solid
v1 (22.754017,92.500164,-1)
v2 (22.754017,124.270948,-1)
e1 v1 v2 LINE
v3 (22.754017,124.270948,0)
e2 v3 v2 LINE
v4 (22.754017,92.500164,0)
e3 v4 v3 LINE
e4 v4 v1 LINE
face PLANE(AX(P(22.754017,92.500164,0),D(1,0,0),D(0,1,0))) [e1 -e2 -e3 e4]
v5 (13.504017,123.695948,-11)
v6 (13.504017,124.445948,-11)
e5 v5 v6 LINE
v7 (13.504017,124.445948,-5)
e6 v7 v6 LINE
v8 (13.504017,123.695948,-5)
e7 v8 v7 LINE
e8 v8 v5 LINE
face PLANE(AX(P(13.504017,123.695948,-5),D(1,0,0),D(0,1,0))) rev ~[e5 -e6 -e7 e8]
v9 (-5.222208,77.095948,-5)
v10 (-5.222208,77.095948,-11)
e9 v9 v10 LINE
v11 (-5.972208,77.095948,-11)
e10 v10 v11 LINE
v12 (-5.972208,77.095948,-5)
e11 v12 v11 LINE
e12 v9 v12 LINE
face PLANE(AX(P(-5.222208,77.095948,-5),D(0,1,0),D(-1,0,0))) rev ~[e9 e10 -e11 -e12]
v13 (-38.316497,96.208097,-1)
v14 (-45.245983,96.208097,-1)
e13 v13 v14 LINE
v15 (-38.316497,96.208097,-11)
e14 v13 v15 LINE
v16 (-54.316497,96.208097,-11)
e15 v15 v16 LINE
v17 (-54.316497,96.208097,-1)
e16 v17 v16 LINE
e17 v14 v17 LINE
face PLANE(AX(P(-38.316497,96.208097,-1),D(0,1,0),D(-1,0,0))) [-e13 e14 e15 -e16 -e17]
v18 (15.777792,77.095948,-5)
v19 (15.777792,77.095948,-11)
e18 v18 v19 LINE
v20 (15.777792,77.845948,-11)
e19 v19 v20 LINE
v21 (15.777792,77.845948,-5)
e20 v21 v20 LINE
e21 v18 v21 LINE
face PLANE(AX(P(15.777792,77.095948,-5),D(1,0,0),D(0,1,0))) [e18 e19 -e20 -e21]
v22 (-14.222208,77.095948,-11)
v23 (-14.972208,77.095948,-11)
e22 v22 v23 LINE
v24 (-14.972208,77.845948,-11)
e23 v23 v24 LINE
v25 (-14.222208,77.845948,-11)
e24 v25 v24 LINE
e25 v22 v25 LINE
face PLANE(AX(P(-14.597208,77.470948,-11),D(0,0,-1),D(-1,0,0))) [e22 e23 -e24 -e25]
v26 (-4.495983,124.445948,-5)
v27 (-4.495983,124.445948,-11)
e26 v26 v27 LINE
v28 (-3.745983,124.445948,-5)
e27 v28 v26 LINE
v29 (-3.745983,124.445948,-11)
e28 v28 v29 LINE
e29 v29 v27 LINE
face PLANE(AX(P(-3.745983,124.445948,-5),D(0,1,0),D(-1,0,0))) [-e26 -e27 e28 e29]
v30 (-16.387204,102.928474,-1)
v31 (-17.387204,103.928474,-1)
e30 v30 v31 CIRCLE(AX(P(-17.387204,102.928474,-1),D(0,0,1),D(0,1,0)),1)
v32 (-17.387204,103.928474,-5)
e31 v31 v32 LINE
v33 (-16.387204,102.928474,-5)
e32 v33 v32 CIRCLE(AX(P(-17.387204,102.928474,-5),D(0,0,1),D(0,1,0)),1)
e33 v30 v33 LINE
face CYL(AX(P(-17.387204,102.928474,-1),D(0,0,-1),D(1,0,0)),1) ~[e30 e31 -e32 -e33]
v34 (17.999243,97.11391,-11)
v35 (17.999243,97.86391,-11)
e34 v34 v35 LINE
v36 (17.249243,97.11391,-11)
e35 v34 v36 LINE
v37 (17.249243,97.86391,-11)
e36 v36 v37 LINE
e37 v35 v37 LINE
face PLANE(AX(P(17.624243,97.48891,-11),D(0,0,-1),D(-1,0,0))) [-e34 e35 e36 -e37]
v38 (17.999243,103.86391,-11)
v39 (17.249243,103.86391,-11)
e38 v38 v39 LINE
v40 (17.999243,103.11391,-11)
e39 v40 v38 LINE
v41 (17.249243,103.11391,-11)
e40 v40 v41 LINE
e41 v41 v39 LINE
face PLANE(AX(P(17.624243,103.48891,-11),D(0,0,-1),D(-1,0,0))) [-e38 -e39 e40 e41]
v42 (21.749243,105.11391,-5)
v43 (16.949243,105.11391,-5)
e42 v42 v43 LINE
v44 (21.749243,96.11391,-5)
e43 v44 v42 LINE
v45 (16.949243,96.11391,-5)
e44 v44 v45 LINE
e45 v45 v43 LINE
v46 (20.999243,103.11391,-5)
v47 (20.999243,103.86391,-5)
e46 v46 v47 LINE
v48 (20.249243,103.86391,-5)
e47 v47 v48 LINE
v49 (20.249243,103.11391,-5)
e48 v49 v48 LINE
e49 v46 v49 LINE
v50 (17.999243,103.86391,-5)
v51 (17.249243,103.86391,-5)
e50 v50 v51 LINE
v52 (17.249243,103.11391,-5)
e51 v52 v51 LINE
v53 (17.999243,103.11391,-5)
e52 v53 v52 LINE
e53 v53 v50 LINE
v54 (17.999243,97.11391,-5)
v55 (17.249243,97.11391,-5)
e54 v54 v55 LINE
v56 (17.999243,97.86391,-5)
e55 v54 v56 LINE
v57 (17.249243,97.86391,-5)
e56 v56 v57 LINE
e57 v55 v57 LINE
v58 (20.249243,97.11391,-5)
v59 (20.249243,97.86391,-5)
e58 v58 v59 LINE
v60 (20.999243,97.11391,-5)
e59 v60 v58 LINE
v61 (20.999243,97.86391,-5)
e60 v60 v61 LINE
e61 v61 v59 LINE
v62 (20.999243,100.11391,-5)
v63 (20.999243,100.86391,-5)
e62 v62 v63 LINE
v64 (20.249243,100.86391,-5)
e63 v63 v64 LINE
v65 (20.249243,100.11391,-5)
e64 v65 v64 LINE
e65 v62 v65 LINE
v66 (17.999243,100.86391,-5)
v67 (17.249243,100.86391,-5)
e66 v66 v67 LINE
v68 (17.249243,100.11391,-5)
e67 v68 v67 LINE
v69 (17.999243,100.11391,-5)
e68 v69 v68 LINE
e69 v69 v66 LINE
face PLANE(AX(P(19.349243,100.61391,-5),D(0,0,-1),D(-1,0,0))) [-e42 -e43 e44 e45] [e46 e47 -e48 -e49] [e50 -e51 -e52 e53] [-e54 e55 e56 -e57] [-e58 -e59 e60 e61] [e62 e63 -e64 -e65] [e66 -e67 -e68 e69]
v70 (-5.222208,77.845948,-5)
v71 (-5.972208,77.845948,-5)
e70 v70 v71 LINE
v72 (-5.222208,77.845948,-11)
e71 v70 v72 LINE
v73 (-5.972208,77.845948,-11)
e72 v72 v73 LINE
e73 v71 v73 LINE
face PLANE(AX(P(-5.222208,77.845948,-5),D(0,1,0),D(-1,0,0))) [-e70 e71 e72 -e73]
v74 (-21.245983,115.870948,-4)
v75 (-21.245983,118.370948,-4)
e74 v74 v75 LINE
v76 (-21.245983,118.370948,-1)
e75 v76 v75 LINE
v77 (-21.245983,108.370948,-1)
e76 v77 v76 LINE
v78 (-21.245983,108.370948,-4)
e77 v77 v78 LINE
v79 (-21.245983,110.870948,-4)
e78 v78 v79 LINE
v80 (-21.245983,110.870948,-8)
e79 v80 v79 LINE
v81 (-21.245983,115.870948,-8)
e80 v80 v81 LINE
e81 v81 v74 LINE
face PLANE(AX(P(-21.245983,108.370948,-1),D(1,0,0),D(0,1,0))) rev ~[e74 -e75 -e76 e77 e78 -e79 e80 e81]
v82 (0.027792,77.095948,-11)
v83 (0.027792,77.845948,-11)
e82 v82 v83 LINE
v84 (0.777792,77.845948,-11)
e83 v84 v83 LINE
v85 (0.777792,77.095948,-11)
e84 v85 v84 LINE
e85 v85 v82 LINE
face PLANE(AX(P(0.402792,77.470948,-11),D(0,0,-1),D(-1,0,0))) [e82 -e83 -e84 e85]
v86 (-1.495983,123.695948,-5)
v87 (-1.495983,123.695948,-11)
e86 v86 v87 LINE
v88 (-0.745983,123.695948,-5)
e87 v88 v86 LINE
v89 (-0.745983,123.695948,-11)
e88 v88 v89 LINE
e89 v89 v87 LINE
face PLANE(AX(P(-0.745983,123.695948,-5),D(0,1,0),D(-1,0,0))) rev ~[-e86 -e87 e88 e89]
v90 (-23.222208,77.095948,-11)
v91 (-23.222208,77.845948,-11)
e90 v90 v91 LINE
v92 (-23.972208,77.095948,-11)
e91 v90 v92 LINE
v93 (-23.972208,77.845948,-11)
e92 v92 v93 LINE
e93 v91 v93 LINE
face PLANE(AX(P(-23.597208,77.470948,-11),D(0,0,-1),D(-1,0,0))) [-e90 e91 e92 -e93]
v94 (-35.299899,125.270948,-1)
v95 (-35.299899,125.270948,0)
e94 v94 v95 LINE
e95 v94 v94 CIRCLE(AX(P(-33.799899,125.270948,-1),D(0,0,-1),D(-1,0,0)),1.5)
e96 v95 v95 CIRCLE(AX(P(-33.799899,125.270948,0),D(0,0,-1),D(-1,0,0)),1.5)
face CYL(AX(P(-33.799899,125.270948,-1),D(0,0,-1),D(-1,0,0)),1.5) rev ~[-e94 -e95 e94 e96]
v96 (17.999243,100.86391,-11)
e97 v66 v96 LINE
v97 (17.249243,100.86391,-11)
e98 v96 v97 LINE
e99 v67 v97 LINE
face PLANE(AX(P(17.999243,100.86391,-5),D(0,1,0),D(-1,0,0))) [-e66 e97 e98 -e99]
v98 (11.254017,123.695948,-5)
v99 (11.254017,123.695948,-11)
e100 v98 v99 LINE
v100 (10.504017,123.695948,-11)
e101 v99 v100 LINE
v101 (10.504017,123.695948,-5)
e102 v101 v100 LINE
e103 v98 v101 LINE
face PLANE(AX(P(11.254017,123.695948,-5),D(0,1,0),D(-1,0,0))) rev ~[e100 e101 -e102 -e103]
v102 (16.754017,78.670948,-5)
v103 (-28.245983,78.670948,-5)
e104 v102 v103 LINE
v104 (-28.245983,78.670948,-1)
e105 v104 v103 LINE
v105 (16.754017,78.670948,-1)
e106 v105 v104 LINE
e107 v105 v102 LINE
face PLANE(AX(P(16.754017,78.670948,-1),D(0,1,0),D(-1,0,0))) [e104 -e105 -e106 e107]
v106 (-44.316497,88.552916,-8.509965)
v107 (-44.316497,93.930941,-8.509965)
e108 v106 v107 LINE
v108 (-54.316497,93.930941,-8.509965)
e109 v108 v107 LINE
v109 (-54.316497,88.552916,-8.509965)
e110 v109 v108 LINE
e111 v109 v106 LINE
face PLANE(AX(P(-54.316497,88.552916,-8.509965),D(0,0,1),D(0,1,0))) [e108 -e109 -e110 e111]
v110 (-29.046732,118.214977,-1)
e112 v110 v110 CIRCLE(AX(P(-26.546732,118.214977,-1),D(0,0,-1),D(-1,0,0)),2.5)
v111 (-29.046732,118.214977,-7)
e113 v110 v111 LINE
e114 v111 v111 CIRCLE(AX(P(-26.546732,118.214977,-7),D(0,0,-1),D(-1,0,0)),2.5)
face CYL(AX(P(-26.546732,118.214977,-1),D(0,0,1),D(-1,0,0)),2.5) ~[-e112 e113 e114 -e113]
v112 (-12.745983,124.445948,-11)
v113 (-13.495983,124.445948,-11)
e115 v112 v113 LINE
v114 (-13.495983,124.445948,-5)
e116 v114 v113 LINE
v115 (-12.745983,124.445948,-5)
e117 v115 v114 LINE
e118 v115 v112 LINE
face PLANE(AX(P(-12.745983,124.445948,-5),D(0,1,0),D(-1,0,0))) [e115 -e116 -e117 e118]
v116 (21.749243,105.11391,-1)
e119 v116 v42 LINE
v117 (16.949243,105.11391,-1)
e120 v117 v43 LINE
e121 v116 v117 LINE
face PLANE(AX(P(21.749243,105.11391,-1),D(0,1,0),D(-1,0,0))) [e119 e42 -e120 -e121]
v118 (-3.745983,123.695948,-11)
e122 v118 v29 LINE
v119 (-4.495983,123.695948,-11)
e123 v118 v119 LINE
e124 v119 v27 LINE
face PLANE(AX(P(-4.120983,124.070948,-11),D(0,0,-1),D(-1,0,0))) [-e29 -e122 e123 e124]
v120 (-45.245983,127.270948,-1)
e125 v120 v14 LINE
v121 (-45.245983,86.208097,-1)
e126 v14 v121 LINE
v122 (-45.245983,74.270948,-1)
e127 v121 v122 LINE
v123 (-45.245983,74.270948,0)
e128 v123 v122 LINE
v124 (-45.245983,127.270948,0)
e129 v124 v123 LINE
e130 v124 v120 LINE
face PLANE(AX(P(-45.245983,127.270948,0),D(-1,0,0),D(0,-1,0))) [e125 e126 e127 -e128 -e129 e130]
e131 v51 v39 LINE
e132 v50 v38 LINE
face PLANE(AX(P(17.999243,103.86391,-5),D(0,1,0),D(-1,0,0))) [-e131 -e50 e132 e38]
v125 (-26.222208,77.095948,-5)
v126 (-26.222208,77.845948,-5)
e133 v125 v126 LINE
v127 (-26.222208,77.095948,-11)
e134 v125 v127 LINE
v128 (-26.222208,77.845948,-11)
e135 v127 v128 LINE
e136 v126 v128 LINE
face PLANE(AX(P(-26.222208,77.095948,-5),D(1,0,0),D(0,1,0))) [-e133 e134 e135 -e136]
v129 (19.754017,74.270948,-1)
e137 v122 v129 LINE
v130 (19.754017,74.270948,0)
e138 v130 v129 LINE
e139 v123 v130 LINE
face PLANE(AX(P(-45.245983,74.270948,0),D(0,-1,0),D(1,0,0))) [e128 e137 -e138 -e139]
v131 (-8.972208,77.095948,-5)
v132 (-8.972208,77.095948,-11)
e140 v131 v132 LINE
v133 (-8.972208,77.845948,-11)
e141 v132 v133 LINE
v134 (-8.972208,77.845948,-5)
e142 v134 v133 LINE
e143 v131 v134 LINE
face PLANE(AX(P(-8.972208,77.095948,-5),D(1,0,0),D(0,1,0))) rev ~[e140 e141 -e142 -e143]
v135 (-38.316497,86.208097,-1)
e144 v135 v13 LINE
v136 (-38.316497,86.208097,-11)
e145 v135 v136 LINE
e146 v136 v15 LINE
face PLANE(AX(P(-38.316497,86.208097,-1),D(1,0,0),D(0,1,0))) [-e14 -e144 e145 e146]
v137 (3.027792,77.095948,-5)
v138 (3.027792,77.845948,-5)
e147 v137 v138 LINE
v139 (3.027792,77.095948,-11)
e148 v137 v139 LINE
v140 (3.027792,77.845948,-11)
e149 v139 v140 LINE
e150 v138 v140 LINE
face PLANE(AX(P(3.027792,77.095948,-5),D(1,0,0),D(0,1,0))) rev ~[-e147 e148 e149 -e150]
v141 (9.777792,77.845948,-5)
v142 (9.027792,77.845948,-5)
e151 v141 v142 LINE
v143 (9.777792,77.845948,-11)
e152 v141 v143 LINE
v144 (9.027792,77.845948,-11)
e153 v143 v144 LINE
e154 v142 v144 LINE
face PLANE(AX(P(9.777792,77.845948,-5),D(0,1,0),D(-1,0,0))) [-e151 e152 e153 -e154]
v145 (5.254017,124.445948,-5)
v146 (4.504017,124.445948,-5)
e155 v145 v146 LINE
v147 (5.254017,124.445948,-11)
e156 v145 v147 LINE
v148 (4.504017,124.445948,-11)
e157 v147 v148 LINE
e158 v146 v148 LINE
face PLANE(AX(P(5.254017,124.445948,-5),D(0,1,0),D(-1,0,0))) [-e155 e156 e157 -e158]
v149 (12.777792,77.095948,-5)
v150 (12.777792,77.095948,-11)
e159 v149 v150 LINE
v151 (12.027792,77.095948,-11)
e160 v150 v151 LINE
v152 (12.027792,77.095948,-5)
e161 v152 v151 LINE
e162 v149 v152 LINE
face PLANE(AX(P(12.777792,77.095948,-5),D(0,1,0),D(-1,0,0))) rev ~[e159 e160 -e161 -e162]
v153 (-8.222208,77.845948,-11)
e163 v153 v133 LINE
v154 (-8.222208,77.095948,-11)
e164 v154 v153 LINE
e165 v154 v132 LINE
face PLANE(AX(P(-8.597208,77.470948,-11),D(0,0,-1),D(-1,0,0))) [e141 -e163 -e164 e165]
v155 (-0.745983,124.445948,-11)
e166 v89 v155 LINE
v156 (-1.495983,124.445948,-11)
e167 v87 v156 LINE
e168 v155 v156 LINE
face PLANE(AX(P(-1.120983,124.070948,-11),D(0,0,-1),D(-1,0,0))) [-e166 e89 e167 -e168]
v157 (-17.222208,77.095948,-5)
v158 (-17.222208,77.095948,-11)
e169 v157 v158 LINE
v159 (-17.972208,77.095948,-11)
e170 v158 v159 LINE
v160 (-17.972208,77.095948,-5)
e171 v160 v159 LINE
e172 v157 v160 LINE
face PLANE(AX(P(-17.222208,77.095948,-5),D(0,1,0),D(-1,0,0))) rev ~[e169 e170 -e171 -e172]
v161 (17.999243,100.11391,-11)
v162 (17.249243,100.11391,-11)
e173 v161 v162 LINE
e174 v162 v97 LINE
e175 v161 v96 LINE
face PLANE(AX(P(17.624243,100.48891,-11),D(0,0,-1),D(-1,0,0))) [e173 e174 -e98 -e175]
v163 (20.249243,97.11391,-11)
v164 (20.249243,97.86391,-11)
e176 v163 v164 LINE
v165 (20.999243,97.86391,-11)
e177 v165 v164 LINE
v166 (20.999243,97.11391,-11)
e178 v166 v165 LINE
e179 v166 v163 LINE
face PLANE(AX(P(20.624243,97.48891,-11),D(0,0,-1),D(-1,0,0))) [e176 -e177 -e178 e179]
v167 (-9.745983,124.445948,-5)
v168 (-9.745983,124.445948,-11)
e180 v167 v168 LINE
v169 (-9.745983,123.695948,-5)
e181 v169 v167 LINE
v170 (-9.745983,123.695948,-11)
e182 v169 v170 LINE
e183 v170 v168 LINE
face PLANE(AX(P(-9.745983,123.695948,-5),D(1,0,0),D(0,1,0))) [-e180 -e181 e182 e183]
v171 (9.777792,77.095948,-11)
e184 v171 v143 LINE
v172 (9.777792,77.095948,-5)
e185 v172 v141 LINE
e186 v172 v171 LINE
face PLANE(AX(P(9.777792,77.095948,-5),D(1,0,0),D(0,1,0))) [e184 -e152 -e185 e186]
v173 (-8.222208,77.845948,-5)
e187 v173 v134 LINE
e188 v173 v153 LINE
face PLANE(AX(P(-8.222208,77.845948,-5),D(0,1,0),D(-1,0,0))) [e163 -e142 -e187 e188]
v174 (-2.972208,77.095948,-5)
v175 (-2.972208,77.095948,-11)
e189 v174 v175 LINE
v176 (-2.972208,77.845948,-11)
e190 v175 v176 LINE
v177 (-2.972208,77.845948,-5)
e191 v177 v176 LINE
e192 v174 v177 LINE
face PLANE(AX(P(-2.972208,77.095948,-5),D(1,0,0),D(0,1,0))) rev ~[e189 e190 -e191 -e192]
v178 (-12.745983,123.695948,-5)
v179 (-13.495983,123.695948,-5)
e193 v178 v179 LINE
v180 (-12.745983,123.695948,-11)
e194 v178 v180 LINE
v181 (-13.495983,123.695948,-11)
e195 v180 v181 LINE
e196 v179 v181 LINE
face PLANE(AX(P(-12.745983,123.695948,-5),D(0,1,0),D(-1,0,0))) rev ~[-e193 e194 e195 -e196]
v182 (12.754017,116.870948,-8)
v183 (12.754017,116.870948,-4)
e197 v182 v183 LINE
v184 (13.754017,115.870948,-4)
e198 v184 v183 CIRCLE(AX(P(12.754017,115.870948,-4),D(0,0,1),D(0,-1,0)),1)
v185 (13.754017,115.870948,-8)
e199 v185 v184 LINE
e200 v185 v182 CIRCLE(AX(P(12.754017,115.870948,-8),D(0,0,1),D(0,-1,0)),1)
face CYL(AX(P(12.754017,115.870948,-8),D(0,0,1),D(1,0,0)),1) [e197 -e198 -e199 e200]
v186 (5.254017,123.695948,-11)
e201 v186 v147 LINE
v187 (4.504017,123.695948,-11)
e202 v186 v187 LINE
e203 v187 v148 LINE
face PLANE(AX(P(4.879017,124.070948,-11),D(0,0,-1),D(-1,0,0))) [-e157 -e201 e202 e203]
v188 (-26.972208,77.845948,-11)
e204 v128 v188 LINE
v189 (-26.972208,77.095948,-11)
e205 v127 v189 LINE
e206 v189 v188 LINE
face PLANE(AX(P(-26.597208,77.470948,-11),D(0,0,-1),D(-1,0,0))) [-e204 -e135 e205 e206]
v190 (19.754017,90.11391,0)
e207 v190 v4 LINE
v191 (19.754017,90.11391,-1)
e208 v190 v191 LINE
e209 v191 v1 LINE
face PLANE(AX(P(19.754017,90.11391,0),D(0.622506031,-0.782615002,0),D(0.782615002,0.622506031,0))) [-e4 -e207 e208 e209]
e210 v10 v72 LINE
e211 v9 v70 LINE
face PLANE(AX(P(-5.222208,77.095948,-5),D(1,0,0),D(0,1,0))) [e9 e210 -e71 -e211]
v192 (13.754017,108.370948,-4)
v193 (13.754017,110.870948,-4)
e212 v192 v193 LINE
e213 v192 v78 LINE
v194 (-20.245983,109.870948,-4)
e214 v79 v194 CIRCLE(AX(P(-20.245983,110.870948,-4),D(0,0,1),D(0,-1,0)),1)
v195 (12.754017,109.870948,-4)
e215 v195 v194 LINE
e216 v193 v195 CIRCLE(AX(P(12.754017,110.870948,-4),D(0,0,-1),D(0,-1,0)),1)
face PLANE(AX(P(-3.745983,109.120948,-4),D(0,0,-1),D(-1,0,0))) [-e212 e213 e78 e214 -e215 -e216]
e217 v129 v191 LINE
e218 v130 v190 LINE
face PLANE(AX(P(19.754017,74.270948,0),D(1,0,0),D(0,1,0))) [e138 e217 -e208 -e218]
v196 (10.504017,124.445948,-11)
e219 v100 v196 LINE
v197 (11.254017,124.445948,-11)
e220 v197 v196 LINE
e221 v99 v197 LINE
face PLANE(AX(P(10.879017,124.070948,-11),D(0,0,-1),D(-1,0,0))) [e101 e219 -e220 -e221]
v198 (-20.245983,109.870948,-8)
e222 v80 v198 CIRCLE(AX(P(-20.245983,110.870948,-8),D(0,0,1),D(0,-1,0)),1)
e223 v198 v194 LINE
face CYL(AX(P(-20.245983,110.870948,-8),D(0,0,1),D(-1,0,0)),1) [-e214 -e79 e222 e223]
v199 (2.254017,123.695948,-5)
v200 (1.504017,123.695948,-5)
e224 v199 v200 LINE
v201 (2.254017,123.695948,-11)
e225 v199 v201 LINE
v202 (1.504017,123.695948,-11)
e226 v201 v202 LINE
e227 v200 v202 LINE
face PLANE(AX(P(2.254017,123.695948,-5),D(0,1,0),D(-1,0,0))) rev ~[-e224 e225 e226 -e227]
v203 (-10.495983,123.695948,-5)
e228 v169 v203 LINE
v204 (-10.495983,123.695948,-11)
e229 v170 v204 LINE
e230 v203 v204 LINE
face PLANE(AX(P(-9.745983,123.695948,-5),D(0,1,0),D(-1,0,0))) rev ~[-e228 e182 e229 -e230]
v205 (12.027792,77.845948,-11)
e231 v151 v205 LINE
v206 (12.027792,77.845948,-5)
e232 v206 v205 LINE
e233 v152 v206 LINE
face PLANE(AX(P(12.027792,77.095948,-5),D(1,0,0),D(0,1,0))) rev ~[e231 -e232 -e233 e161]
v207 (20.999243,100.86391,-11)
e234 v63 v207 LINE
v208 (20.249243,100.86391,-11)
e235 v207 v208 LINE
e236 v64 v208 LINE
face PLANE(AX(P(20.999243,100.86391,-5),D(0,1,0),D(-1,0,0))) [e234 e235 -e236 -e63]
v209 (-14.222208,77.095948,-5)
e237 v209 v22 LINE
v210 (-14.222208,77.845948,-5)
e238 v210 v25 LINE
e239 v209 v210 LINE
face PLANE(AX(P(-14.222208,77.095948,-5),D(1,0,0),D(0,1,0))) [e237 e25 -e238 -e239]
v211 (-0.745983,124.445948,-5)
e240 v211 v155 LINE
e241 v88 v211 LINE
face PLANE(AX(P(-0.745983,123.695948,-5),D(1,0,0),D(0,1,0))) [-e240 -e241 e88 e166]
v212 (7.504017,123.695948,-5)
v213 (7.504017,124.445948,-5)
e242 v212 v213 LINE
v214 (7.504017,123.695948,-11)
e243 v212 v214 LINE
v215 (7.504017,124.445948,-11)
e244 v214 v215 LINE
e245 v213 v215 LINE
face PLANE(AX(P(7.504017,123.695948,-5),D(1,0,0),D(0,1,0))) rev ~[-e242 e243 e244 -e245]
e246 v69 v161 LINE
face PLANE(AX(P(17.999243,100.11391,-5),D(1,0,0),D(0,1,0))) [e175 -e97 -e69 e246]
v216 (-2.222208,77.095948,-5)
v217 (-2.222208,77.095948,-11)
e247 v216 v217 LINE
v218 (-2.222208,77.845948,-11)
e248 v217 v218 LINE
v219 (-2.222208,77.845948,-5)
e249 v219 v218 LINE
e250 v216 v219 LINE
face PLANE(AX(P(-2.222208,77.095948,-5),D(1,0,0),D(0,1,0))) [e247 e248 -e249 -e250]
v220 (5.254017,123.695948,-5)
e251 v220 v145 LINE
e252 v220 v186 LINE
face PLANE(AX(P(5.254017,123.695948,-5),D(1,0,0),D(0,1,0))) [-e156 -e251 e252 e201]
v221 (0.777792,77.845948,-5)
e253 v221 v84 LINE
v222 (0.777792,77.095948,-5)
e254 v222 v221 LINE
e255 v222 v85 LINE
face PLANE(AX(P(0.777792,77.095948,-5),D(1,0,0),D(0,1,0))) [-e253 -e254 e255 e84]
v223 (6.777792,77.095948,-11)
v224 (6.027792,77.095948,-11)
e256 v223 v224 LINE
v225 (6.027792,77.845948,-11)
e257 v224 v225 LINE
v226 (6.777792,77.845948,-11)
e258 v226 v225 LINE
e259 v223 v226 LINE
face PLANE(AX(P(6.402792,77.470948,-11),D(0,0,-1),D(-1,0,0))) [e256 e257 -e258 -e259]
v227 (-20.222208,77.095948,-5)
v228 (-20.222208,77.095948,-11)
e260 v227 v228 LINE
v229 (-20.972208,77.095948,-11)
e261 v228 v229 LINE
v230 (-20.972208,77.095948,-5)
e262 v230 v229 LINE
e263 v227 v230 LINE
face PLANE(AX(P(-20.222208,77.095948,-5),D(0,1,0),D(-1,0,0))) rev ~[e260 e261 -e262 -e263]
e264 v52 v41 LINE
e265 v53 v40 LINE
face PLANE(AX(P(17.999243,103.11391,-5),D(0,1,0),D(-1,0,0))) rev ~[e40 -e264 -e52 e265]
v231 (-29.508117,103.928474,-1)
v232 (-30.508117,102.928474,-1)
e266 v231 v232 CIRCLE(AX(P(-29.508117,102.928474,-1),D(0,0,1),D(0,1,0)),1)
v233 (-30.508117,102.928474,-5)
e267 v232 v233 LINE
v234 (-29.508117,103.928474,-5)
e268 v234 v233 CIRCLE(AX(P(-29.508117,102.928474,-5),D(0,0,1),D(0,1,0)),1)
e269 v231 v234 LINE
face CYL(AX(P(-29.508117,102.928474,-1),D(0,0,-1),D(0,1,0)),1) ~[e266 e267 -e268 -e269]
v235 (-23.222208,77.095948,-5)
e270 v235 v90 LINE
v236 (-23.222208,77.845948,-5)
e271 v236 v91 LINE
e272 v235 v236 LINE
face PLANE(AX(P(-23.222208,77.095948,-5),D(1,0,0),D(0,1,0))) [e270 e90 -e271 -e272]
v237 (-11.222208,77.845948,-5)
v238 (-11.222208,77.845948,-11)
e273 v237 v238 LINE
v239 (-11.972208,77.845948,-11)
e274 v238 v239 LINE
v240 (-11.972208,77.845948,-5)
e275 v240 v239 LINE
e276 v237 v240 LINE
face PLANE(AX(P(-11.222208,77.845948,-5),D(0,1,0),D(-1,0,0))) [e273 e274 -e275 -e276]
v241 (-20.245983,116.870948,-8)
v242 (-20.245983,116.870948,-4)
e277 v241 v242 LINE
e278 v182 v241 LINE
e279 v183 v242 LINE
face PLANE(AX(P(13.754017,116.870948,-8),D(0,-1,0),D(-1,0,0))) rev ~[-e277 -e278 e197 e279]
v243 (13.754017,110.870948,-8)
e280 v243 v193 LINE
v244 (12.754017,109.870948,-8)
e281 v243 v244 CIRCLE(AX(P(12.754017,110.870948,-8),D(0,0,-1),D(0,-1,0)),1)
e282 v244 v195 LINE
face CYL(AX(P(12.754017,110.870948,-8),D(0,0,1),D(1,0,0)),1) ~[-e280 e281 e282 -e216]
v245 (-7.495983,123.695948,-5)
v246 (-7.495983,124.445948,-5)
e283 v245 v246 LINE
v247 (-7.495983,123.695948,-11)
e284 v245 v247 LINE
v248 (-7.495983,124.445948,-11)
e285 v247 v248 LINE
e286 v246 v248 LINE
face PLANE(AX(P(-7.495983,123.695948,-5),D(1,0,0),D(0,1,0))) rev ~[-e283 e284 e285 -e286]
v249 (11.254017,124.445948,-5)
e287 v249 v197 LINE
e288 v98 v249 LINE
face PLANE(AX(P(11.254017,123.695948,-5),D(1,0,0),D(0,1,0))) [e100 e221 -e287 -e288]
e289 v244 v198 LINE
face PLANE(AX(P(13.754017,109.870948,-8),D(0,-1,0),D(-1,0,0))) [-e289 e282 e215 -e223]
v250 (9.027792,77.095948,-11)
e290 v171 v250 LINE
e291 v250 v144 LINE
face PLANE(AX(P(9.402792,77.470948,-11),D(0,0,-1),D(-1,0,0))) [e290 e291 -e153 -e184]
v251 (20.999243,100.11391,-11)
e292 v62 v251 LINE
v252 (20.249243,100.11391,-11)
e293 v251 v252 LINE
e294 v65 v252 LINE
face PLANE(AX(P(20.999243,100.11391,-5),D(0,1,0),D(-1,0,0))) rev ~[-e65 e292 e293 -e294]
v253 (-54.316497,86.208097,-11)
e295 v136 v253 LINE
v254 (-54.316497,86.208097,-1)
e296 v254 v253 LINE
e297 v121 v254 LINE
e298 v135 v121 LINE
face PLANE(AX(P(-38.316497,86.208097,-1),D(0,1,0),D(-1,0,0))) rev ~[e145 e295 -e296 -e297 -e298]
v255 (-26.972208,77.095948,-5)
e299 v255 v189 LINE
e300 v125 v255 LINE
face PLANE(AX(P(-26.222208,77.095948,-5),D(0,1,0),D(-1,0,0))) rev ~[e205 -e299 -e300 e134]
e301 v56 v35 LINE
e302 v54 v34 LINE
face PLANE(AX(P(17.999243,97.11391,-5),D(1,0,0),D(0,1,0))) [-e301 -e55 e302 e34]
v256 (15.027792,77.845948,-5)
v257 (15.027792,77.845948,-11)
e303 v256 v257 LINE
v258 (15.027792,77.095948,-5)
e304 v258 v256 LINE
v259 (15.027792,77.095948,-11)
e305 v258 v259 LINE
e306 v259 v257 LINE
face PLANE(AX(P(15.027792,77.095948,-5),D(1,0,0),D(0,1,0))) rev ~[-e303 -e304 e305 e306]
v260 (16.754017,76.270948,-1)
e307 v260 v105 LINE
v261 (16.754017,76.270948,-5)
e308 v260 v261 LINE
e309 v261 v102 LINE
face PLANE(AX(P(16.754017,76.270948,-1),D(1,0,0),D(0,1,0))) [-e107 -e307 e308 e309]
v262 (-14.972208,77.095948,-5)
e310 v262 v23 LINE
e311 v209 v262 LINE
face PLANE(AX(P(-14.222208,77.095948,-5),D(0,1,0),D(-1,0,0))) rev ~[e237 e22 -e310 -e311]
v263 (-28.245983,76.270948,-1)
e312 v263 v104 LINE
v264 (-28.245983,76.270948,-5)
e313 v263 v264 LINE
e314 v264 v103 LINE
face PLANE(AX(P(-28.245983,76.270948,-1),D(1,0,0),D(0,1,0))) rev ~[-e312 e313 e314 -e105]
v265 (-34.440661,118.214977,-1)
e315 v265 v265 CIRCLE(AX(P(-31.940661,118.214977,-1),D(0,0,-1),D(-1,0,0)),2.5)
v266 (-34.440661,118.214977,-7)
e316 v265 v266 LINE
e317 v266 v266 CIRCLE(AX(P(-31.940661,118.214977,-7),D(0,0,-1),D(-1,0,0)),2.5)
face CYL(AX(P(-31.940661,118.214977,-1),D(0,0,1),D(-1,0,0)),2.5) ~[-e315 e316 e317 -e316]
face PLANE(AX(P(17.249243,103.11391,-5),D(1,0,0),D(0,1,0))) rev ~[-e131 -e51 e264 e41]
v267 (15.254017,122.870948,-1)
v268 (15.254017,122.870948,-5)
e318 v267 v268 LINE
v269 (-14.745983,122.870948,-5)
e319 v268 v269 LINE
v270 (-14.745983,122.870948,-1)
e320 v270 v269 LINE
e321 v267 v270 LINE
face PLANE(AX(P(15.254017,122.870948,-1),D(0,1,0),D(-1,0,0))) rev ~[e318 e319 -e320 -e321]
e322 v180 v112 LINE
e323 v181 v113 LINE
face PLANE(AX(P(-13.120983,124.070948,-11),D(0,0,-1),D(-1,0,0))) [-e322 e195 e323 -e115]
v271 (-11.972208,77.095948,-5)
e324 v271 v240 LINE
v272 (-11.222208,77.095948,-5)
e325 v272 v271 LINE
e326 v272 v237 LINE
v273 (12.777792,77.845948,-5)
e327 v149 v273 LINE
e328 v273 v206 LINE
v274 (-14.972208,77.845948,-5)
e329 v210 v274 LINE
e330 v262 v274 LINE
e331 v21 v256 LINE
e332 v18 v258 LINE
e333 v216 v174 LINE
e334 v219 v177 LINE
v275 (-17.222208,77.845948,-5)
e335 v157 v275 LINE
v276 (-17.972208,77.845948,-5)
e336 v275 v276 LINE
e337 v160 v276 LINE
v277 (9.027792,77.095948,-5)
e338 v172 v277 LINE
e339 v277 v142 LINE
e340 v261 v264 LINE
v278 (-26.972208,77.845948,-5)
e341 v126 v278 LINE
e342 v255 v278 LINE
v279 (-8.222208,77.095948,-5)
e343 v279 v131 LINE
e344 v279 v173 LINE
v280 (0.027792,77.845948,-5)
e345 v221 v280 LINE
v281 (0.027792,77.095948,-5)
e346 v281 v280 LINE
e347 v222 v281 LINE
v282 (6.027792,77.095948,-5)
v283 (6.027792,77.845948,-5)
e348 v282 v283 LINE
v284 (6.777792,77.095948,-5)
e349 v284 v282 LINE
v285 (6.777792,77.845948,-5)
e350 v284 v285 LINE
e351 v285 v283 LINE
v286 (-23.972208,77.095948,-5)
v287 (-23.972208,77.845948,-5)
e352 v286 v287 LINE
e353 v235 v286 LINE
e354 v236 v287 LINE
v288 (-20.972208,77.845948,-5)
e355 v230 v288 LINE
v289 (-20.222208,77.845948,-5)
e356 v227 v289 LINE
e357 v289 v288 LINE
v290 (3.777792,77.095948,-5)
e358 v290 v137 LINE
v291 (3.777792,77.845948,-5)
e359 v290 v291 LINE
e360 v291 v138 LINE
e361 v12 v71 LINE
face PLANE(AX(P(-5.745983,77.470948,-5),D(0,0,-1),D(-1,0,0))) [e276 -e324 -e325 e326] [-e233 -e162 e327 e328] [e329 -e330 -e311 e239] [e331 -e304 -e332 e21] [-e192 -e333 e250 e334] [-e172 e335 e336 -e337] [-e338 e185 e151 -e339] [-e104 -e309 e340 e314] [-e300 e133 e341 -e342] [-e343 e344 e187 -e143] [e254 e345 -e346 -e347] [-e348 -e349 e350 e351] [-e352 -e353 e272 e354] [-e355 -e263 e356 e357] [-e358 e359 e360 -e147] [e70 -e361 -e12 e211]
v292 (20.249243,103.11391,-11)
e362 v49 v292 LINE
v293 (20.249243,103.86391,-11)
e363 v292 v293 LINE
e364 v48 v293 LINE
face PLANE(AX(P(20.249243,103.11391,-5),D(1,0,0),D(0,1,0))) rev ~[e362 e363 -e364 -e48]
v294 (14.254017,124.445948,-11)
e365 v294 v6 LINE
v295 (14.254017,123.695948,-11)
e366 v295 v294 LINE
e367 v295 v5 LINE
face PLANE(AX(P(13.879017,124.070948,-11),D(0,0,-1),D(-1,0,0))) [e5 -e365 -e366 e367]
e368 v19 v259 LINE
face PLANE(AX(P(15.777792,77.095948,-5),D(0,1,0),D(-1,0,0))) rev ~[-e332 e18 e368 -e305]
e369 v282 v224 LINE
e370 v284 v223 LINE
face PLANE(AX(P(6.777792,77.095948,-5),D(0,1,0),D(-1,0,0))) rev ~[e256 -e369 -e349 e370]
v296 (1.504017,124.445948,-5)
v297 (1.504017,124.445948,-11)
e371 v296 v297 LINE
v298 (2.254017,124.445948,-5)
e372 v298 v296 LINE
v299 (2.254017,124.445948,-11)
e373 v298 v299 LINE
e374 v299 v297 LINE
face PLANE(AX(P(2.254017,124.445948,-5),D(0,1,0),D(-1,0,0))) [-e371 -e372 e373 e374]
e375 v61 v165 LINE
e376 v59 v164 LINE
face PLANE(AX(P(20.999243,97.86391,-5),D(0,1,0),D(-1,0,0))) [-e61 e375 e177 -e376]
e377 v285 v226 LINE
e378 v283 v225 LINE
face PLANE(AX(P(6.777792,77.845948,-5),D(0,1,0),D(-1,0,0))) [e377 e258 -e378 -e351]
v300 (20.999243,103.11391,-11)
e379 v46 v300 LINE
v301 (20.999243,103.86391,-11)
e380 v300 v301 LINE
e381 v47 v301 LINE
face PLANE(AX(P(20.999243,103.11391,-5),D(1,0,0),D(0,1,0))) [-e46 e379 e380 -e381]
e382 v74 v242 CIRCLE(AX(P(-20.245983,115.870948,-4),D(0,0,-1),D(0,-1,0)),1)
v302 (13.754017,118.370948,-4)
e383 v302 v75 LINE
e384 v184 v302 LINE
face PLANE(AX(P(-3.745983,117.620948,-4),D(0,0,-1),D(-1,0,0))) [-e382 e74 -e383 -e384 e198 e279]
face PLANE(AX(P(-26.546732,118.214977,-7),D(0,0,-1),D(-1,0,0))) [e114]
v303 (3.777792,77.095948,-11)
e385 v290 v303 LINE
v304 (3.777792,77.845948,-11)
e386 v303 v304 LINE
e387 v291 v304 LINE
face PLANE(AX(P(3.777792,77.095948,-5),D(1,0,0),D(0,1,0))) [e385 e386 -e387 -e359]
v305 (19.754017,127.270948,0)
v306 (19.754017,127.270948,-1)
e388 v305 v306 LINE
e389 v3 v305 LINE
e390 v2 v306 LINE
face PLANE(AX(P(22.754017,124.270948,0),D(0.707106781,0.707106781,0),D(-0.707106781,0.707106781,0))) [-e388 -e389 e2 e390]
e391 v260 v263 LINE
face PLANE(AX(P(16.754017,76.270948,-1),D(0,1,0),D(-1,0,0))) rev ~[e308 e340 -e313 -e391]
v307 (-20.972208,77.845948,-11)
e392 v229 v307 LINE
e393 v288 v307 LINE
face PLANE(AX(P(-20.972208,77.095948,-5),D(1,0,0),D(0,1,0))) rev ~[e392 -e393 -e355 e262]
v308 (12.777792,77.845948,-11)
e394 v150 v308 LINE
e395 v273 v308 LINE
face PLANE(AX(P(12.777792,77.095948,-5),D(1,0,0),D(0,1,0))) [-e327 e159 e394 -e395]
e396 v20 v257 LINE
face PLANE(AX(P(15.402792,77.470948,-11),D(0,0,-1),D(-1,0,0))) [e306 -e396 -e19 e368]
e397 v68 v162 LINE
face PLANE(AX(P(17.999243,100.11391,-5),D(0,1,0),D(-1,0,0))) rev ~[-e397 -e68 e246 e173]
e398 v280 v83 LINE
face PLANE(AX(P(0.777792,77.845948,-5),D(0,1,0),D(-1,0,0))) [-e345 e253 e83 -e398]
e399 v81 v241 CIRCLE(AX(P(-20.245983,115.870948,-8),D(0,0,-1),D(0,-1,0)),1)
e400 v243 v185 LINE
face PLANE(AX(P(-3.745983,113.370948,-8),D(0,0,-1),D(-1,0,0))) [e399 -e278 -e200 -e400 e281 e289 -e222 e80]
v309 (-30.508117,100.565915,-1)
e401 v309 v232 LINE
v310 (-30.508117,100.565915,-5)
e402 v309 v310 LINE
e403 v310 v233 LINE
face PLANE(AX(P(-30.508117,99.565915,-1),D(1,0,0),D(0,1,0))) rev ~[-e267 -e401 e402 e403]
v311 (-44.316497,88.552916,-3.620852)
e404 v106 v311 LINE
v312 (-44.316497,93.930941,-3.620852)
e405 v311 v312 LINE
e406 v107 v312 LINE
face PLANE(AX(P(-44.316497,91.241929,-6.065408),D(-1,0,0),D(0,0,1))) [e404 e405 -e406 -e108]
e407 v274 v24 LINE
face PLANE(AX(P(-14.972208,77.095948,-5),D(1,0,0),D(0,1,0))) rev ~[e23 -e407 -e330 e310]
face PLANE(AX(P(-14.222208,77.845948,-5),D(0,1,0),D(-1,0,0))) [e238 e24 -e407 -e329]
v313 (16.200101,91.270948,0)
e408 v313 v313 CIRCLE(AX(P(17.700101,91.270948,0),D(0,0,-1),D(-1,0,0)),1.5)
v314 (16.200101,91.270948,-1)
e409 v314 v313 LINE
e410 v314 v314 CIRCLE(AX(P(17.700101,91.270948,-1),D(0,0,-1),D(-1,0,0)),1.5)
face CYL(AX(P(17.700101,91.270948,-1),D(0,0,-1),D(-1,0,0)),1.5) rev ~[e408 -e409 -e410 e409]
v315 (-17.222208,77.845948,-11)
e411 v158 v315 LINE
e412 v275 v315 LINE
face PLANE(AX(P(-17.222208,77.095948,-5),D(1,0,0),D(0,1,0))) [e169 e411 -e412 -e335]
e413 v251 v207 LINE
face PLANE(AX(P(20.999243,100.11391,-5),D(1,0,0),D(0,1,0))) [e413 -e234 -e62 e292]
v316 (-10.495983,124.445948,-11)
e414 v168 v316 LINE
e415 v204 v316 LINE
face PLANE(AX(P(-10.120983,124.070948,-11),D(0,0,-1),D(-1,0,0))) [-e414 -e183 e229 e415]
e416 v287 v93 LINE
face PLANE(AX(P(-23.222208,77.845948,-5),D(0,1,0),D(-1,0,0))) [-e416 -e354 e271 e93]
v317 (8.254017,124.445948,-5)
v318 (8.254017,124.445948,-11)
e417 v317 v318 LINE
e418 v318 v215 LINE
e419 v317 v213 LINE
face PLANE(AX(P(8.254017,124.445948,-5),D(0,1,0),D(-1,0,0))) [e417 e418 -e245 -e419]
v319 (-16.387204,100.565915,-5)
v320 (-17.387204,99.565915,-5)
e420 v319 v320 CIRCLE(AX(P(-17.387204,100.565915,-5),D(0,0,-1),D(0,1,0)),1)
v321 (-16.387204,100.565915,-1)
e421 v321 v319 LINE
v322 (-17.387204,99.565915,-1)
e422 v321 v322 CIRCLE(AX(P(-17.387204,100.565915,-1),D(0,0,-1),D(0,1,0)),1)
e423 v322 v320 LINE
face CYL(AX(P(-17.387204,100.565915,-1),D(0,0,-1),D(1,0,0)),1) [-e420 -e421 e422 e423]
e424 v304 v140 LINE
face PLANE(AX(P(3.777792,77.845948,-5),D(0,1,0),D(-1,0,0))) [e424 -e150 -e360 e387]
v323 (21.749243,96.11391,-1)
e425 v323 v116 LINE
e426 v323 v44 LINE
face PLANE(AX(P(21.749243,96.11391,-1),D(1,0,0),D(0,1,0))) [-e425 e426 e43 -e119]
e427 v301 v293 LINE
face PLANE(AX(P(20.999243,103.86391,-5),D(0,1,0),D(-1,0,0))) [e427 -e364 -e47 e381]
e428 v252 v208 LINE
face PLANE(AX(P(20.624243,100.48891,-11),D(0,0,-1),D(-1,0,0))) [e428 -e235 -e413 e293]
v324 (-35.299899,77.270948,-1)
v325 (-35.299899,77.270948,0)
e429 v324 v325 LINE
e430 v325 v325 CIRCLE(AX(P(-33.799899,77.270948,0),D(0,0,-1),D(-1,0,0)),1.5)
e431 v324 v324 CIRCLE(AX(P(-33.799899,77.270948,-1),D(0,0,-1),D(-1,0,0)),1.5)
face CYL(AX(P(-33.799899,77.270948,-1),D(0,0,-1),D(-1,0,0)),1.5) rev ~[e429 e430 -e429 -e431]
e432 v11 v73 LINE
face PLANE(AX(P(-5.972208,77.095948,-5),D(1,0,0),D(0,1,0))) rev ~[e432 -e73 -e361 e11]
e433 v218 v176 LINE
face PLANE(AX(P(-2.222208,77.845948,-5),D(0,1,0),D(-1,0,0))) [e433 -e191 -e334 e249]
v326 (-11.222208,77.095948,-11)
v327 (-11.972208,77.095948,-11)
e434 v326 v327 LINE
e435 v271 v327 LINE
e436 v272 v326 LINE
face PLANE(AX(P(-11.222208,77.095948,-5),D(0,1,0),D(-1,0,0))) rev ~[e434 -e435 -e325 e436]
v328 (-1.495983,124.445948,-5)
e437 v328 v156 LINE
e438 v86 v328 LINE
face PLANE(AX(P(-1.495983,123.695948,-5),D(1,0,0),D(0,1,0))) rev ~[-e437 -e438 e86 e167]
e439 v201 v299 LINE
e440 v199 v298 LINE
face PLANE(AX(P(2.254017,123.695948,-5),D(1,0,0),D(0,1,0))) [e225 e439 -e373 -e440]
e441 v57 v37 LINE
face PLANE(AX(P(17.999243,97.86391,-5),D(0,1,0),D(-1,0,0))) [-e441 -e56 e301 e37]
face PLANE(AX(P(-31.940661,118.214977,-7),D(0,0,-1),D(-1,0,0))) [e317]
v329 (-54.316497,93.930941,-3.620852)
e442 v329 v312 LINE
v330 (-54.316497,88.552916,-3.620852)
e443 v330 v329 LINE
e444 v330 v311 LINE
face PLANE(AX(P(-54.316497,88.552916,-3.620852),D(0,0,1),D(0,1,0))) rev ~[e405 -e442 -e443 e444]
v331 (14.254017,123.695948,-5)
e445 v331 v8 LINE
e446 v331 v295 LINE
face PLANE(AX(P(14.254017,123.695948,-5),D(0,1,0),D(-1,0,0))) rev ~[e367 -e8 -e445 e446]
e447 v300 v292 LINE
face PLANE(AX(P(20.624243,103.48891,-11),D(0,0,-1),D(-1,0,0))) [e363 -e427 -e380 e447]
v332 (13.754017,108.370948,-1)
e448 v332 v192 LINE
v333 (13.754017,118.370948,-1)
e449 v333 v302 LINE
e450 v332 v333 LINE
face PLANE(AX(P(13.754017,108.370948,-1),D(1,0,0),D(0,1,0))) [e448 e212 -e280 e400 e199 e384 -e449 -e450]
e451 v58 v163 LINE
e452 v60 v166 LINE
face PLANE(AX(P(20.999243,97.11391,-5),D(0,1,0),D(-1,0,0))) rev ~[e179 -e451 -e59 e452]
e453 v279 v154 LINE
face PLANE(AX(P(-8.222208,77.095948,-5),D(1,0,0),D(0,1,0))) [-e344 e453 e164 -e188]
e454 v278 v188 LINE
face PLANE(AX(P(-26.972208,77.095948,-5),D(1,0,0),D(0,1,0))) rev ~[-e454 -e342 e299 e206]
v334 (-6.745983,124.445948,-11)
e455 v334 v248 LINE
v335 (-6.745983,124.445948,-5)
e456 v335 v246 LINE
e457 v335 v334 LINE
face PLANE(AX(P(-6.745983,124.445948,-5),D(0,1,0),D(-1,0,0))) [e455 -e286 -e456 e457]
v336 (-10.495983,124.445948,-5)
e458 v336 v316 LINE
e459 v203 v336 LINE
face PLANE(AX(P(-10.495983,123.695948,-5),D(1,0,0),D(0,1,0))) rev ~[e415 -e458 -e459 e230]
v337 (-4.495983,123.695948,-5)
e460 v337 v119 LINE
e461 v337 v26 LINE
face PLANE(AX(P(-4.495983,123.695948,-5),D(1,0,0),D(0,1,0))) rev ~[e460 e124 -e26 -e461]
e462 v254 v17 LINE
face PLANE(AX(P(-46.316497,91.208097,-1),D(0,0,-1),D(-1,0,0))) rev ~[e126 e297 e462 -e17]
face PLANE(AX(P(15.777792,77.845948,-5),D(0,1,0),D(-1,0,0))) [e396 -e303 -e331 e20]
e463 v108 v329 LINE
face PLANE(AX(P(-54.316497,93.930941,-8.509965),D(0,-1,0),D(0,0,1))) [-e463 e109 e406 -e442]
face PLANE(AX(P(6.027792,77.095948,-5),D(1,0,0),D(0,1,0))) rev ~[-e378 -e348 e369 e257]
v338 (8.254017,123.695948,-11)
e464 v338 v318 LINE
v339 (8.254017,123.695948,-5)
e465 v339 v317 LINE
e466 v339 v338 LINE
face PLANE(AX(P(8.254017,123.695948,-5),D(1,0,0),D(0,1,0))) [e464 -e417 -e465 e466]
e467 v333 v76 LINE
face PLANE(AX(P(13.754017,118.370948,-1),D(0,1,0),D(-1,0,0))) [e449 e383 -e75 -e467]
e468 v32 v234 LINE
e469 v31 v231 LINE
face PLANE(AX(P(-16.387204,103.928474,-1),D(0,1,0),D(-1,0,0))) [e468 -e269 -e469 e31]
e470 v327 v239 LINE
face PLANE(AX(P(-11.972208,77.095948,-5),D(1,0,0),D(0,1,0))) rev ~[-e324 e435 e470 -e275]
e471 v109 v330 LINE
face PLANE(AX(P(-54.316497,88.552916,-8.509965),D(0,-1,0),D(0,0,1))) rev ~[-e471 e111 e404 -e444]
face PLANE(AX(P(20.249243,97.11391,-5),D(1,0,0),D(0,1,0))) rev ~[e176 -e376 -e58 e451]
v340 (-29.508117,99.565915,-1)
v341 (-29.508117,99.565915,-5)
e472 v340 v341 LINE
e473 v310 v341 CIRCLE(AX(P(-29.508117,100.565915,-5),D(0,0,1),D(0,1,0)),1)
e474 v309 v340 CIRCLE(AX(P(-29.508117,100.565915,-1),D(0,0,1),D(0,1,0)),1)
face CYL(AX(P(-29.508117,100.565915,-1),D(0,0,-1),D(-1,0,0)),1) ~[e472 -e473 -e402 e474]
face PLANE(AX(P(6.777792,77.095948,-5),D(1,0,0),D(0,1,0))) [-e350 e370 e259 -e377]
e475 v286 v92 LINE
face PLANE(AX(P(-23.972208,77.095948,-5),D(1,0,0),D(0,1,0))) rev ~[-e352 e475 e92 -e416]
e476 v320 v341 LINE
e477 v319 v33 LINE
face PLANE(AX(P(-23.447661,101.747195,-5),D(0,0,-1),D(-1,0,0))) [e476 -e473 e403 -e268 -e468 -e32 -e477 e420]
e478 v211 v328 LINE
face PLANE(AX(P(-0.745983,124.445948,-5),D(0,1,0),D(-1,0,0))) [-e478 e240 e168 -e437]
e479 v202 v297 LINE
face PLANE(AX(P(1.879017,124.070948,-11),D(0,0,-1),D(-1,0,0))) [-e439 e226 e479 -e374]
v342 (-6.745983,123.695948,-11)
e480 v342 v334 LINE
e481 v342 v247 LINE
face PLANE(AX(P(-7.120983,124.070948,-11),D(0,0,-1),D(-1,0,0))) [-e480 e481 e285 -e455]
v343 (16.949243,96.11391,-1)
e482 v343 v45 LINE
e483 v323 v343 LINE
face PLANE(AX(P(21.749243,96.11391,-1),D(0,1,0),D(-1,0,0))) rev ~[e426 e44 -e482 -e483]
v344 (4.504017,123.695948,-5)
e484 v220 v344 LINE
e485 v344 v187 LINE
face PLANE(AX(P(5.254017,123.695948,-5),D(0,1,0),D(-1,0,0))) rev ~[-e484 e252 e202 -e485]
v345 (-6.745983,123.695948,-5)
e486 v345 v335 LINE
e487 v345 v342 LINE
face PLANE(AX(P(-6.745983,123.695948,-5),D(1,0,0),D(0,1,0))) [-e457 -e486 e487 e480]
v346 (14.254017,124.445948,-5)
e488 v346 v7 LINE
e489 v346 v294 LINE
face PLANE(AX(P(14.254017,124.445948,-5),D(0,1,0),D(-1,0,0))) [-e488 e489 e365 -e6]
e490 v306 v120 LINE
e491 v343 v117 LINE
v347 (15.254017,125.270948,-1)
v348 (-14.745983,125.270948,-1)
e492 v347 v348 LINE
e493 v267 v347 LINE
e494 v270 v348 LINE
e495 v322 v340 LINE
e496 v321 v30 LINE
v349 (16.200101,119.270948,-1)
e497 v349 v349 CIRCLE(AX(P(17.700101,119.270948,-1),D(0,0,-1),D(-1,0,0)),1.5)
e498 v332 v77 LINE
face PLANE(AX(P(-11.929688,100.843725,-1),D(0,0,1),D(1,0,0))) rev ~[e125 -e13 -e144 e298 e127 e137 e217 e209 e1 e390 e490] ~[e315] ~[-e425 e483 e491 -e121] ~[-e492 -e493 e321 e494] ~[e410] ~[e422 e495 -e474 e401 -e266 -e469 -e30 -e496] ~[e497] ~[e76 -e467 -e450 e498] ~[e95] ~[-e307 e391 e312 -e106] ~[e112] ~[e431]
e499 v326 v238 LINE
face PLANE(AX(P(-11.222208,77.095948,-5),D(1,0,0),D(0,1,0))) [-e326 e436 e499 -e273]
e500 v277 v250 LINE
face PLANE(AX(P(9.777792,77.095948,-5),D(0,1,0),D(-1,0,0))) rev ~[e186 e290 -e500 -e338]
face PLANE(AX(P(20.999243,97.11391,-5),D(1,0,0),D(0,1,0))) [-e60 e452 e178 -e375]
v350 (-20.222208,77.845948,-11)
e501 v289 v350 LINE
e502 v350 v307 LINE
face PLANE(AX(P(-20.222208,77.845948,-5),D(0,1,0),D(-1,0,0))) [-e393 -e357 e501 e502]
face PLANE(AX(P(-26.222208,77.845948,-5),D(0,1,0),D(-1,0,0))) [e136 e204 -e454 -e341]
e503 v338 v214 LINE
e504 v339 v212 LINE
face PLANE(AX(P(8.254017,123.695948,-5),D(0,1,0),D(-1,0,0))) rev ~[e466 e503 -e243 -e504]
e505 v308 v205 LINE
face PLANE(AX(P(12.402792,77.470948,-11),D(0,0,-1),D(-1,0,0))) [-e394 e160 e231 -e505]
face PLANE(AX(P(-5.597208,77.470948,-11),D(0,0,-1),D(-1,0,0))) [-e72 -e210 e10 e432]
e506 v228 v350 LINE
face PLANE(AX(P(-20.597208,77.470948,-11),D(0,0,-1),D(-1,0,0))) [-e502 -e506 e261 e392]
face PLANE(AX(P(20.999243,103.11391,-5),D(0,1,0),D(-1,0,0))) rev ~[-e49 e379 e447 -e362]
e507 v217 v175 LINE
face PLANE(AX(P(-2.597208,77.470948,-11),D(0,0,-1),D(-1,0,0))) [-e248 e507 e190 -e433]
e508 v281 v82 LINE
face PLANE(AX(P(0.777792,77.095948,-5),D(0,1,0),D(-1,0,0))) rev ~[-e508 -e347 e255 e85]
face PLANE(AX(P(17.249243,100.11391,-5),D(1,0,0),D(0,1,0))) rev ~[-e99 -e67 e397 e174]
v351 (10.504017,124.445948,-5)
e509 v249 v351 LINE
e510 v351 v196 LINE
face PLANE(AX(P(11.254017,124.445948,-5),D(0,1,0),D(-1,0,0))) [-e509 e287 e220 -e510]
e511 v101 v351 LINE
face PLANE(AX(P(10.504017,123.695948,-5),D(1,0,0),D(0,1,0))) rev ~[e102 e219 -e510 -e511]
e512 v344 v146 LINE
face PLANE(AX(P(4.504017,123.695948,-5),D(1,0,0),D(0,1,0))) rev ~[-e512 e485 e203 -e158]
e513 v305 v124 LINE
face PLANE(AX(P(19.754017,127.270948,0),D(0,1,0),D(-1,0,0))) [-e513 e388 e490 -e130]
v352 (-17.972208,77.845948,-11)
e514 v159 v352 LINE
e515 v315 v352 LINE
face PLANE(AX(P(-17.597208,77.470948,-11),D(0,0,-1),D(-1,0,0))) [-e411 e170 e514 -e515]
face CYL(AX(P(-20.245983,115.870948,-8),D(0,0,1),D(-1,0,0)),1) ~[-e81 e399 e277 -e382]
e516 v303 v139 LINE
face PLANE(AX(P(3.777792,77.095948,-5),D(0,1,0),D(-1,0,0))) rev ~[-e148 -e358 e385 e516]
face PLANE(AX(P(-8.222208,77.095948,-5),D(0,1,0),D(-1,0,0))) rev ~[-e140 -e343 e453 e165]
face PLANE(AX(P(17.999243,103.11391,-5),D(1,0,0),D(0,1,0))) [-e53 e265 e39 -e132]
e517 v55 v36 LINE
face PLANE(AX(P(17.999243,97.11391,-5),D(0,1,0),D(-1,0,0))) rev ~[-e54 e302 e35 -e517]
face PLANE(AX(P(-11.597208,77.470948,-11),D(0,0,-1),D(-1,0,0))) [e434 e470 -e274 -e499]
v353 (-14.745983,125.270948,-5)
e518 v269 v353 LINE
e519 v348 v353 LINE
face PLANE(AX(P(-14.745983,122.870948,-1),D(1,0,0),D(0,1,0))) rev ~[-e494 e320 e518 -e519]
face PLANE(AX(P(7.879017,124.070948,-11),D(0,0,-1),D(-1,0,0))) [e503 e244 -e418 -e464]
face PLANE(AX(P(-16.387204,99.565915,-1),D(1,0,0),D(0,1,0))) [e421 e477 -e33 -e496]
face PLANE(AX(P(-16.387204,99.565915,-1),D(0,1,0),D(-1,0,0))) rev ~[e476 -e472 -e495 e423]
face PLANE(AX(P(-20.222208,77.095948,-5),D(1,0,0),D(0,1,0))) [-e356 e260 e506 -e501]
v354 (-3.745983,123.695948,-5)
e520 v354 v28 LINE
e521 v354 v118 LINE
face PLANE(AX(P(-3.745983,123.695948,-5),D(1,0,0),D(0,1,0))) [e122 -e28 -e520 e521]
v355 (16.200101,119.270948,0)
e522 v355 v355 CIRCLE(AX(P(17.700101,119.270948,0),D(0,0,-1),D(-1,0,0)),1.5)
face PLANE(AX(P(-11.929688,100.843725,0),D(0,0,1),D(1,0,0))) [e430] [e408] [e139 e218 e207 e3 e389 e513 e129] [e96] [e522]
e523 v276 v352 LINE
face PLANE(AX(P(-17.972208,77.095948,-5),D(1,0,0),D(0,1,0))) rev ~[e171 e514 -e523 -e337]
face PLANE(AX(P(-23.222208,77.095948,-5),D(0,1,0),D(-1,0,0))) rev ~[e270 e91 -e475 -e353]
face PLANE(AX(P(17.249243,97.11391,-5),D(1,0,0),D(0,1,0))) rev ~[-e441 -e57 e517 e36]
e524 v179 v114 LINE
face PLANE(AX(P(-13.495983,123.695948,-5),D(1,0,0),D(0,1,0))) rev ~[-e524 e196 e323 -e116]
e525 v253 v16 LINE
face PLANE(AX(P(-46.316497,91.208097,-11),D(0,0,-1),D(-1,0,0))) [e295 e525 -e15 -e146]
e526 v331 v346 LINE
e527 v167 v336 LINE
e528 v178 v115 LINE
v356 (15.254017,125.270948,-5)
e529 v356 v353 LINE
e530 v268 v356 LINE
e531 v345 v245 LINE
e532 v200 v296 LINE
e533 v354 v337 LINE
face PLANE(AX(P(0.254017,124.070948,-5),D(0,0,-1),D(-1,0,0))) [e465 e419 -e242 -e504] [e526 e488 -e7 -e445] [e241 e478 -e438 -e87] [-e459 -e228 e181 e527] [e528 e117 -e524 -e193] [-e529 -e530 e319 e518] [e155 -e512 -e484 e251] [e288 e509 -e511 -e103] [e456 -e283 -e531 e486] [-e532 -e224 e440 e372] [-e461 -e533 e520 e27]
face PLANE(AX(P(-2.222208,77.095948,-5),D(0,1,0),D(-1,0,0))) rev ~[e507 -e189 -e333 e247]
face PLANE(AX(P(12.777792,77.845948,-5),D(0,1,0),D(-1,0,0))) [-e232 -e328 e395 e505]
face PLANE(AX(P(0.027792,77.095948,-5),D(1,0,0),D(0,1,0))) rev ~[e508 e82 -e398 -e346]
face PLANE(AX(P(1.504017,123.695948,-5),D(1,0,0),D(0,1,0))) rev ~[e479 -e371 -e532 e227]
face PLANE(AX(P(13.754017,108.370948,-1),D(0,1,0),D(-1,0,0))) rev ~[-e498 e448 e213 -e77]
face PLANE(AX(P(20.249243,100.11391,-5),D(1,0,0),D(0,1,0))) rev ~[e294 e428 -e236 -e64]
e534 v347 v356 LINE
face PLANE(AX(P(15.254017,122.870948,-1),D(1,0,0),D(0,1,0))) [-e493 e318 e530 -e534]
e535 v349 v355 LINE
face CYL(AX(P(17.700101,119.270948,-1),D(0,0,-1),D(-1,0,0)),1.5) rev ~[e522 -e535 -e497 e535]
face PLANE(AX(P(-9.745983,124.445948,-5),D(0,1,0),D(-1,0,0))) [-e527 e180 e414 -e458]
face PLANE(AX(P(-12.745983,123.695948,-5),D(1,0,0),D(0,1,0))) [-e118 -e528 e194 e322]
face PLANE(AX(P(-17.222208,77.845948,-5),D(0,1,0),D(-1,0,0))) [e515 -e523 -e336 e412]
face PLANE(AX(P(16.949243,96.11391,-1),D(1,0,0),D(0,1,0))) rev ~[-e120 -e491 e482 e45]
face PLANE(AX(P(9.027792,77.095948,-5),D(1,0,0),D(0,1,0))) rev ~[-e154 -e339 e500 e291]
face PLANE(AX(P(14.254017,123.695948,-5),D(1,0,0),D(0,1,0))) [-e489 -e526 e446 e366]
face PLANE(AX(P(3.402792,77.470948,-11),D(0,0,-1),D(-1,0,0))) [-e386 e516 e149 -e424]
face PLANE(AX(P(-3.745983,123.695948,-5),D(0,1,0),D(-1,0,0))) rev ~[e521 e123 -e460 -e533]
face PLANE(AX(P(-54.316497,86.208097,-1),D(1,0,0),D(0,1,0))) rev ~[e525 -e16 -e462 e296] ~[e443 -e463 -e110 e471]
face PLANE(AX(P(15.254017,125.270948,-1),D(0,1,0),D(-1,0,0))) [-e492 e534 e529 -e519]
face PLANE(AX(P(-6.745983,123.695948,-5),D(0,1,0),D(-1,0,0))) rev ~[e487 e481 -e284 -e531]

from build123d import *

# Parameters (mm, degrees)
BOSS_EXTRUDE1_DEPTH  = 1
SKETCH2_W            = 16
SKETCH2_H            = 10
BOSS_EXTRUDE2_DEPTH  = 10
SKETCH3_W            = 4.889113018
SKETCH3_H            = 5.37802432
CUT_EXTRUDE1_DEPTH   = 10
SKETCH4_W            = 45
SKETCH4_H            = 2.4
SKETCH4_W_2          = 30
BOSS_EXTRUDE3_DEPTH  = 4
SKETCH5_W            = 35
SKETCH5_H            = 10
BOSS_EXTRUDE4_DEPTH  = 7
SKETCH6_W            = 35
SKETCH6_H            = 1.5
CUT_EXTRUDE2_DEPTH   = 4
FILLET1_R            = 1
SKETCH7_R            = 1.5
CUT_EXTRUDE3_DEPTH   = 4
SKETCH8_W            = 0.75
SKETCH8_H            = 0.75
BOSS_EXTRUDE5_DEPTH  = 6
LPATTERN1_COUNT      = 10
LPATTERN1_PITCH      = 3
SKETCH9_W            = 0.75
SKETCH9_H            = 0.75
BOSS_EXTRUDE6_DEPTH  = 6
LPATTERN2_COUNT      = 15
LPATTERN2_PITCH      = 3
SKETCH10_R           = 2.5
BOSS_EXTRUDE7_DEPTH  = 6
SKETCH11_W           = 4.8
SKETCH11_H           = 9
BOSS_EXTRUDE8_DEPTH  = 4
SKETCH12_W           = 0.75
SKETCH12_H           = 0.75
BOSS_EXTRUDE9_DEPTH  = 6
LPATTERN3_COUNT      = 3
LPATTERN3_PITCH      = 3
LPATTERN3_COUNT_DIR2 = 2
LPATTERN3_PITCH_DIR2 = 3
SKETCH13_W           = 14.120912951
SKETCH13_H           = 4.362558473
BOSS_EXTRUDE10_DEPTH = 4
FILLET2_R            = 1


with BuildPart() as part:
    # Sketch1 → Boss-Extrude1 (new body)
    with BuildSketch(Plane.XY):
        Polygon((22.754016647, 124.270947632), (19.754016647, 127.270947632), (-45.245983353, 127.270947632), (-45.245983353, 74.270947632), (19.754016647, 74.270947632), (19.754016647, 90.113910289), (22.754016647, 92.500164177), align=None)
    extrude(amount=-BOSS_EXTRUDE1_DEPTH)

    # Sketch2 → Boss-Extrude2 (add)
    with BuildSketch(Plane(origin=(0, 0, -1), x_dir=(-1, 0, 0), z_dir=(0, 0, -1))):
        with Locations((46.316496684, 91.208096568)):
            Rectangle(SKETCH2_W, SKETCH2_H)
    extrude(amount=BOSS_EXTRUDE2_DEPTH)

    # Sketch3 → Cut-Extrude1 (cut)
    with BuildSketch(Plane.ZY.offset(54.316496684)):
        with Locations((-6.06540843, 91.2419286)):
            Rectangle(SKETCH3_W, SKETCH3_H)
    extrude(amount=-CUT_EXTRUDE1_DEPTH, mode=Mode.SUBTRACT)

    # Sketch4 → Boss-Extrude3 (add)
    with BuildSketch(Plane(origin=(0, 0, -1), x_dir=(-1, 0, 0), z_dir=(0, 0, -1))):
        with Locations((5.745983353, 77.470947632)):
            Rectangle(SKETCH4_W, SKETCH4_H)
        with Locations((-0.254016647, 124.070947632)):
            Rectangle(SKETCH4_W_2, SKETCH4_H)
    extrude(amount=BOSS_EXTRUDE3_DEPTH)

    # Sketch5 → Boss-Extrude4 (add)
    with BuildSketch(Plane(origin=(0, 0, -1), x_dir=(-1, 0, 0), z_dir=(0, 0, -1))):
        with Locations((3.745983353, 113.370947632)):
            Rectangle(SKETCH5_W, SKETCH5_H)
    extrude(amount=BOSS_EXTRUDE4_DEPTH)

    # Sketch6 → Cut-Extrude2 (cut)
    with BuildSketch(Plane(origin=(0, 0, -8), x_dir=(-1, 0, 0), z_dir=(0, 0, -1))):
        with Locations((3.745983353, 117.620947632)):
            Rectangle(SKETCH6_W, SKETCH6_H)
        with Locations((3.745983353, 109.120947632)):
            Rectangle(SKETCH6_W, SKETCH6_H)
    extrude(amount=-CUT_EXTRUDE2_DEPTH, mode=Mode.SUBTRACT)

    # Fillet1
    fillet1_edges = [part.edges().sort_by_distance(p)[0] for p in [
        (13.754016647, 109.870947632, -6),
        (-21.245983353, 109.870947632, -6),
        (13.754016647, 116.870947632, -6),
        (-21.245983353, 116.870947632, -6),
    ]]
    fillet(fillet1_edges, radius=FILLET1_R)

    # Sketch7 → Cut-Extrude3 (cut)
    with BuildSketch(Plane(origin=(0, 0, -1), x_dir=(-1, 0, 0), z_dir=(0, 0, -1))):
        with Locations((-17.700101194, 119.270947632)):
            Circle(SKETCH7_R)
        with Locations((-17.700101194, 91.270947632)):
            Circle(SKETCH7_R)
        with Locations((33.799898806, 125.270947632)):
            Circle(SKETCH7_R)
        with Locations((33.799898806, 77.270947632)):
            Circle(SKETCH7_R)
    extrude(amount=-CUT_EXTRUDE3_DEPTH, mode=Mode.SUBTRACT)

    # Sketch8 → Boss-Extrude5 (add)
    with BuildSketch(Plane(origin=(0, 0, -5), x_dir=(-1, 0, 0), z_dir=(0, 0, -1))):
        with Locations((-13.879016647, 124.070947632)):
            Rectangle(SKETCH8_W, SKETCH8_H)
    boss_extrude5 = extrude(amount=BOSS_EXTRUDE5_DEPTH)

    # LPattern1: Boss-Extrude5 ×10
    with Locations(*[(-i * LPATTERN1_PITCH, 0, 0) for i in range(1, LPATTERN1_COUNT)]):
        add(boss_extrude5)

    # Sketch9 → Boss-Extrude6 (add)
    with BuildSketch(Plane(origin=(0, 0, -5), x_dir=(-1, 0, 0), z_dir=(0, 0, -1))):
        with Locations((-15.402792453, 77.470947632)):
            Rectangle(SKETCH9_W, SKETCH9_H)
    boss_extrude6 = extrude(amount=BOSS_EXTRUDE6_DEPTH)

    # LPattern2: Boss-Extrude6 ×15
    with Locations(*[(-i * LPATTERN2_PITCH, 0, 0) for i in range(1, LPATTERN2_COUNT)]):
        add(boss_extrude6)

    # Sketch10 → Boss-Extrude7 (add)
    with BuildSketch(Plane(origin=(0, 0, -1), x_dir=(-1, 0, 0), z_dir=(0, 0, -1))):
        with Locations((26.546732083, 118.214976991)):
            Circle(SKETCH10_R)
        with Locations((31.940661119, 118.214976991)):
            Circle(SKETCH10_R)
    extrude(amount=BOSS_EXTRUDE7_DEPTH)

    # Sketch11 → Boss-Extrude8 (add)
    with BuildSketch(Plane(origin=(0, 0, -1), x_dir=(-1, 0, 0), z_dir=(0, 0, -1))):
        with Locations((-19.349242758, 100.613910289)):
            Rectangle(SKETCH11_W, SKETCH11_H)
    extrude(amount=BOSS_EXTRUDE8_DEPTH)

    # Sketch12 → Boss-Extrude9 (add)
    with BuildSketch(Plane(origin=(0, 0, -5), x_dir=(-1, 0, 0), z_dir=(0, 0, -1))):
        with Locations((-20.624242758, 97.488910289)):
            Rectangle(SKETCH12_W, SKETCH12_H)
    boss_extrude9 = extrude(amount=BOSS_EXTRUDE9_DEPTH)

    # LPattern3: Boss-Extrude9 3 × 2
    with Locations(*[(-j * LPATTERN3_PITCH_DIR2, i * LPATTERN3_PITCH, 0) for i in range(LPATTERN3_COUNT) for j in range(LPATTERN3_COUNT_DIR2) if (i, j) != (0, 0)]):
        add(boss_extrude9)

    # Sketch13 → Boss-Extrude10 (add)
    with BuildSketch(Plane(origin=(0, 0, -1), x_dir=(-1, 0, 0), z_dir=(0, 0, -1))):
        with Locations((23.447660741, 101.747194556)):
            Rectangle(SKETCH13_W, SKETCH13_H)
    extrude(amount=BOSS_EXTRUDE10_DEPTH)

    # Fillet2
    fillet2_edges = [part.edges().sort_by_distance(p)[0] for p in [
        (-16.387204265, 103.928473792, -3),
        (-16.387204265, 99.565915319, -3),
        (-30.508117216, 99.565915319, -3),
        (-30.508117216, 103.928473792, -3),
    ]]
    fillet(fillet2_edges, radius=FILLET2_R)


solid = part.part
